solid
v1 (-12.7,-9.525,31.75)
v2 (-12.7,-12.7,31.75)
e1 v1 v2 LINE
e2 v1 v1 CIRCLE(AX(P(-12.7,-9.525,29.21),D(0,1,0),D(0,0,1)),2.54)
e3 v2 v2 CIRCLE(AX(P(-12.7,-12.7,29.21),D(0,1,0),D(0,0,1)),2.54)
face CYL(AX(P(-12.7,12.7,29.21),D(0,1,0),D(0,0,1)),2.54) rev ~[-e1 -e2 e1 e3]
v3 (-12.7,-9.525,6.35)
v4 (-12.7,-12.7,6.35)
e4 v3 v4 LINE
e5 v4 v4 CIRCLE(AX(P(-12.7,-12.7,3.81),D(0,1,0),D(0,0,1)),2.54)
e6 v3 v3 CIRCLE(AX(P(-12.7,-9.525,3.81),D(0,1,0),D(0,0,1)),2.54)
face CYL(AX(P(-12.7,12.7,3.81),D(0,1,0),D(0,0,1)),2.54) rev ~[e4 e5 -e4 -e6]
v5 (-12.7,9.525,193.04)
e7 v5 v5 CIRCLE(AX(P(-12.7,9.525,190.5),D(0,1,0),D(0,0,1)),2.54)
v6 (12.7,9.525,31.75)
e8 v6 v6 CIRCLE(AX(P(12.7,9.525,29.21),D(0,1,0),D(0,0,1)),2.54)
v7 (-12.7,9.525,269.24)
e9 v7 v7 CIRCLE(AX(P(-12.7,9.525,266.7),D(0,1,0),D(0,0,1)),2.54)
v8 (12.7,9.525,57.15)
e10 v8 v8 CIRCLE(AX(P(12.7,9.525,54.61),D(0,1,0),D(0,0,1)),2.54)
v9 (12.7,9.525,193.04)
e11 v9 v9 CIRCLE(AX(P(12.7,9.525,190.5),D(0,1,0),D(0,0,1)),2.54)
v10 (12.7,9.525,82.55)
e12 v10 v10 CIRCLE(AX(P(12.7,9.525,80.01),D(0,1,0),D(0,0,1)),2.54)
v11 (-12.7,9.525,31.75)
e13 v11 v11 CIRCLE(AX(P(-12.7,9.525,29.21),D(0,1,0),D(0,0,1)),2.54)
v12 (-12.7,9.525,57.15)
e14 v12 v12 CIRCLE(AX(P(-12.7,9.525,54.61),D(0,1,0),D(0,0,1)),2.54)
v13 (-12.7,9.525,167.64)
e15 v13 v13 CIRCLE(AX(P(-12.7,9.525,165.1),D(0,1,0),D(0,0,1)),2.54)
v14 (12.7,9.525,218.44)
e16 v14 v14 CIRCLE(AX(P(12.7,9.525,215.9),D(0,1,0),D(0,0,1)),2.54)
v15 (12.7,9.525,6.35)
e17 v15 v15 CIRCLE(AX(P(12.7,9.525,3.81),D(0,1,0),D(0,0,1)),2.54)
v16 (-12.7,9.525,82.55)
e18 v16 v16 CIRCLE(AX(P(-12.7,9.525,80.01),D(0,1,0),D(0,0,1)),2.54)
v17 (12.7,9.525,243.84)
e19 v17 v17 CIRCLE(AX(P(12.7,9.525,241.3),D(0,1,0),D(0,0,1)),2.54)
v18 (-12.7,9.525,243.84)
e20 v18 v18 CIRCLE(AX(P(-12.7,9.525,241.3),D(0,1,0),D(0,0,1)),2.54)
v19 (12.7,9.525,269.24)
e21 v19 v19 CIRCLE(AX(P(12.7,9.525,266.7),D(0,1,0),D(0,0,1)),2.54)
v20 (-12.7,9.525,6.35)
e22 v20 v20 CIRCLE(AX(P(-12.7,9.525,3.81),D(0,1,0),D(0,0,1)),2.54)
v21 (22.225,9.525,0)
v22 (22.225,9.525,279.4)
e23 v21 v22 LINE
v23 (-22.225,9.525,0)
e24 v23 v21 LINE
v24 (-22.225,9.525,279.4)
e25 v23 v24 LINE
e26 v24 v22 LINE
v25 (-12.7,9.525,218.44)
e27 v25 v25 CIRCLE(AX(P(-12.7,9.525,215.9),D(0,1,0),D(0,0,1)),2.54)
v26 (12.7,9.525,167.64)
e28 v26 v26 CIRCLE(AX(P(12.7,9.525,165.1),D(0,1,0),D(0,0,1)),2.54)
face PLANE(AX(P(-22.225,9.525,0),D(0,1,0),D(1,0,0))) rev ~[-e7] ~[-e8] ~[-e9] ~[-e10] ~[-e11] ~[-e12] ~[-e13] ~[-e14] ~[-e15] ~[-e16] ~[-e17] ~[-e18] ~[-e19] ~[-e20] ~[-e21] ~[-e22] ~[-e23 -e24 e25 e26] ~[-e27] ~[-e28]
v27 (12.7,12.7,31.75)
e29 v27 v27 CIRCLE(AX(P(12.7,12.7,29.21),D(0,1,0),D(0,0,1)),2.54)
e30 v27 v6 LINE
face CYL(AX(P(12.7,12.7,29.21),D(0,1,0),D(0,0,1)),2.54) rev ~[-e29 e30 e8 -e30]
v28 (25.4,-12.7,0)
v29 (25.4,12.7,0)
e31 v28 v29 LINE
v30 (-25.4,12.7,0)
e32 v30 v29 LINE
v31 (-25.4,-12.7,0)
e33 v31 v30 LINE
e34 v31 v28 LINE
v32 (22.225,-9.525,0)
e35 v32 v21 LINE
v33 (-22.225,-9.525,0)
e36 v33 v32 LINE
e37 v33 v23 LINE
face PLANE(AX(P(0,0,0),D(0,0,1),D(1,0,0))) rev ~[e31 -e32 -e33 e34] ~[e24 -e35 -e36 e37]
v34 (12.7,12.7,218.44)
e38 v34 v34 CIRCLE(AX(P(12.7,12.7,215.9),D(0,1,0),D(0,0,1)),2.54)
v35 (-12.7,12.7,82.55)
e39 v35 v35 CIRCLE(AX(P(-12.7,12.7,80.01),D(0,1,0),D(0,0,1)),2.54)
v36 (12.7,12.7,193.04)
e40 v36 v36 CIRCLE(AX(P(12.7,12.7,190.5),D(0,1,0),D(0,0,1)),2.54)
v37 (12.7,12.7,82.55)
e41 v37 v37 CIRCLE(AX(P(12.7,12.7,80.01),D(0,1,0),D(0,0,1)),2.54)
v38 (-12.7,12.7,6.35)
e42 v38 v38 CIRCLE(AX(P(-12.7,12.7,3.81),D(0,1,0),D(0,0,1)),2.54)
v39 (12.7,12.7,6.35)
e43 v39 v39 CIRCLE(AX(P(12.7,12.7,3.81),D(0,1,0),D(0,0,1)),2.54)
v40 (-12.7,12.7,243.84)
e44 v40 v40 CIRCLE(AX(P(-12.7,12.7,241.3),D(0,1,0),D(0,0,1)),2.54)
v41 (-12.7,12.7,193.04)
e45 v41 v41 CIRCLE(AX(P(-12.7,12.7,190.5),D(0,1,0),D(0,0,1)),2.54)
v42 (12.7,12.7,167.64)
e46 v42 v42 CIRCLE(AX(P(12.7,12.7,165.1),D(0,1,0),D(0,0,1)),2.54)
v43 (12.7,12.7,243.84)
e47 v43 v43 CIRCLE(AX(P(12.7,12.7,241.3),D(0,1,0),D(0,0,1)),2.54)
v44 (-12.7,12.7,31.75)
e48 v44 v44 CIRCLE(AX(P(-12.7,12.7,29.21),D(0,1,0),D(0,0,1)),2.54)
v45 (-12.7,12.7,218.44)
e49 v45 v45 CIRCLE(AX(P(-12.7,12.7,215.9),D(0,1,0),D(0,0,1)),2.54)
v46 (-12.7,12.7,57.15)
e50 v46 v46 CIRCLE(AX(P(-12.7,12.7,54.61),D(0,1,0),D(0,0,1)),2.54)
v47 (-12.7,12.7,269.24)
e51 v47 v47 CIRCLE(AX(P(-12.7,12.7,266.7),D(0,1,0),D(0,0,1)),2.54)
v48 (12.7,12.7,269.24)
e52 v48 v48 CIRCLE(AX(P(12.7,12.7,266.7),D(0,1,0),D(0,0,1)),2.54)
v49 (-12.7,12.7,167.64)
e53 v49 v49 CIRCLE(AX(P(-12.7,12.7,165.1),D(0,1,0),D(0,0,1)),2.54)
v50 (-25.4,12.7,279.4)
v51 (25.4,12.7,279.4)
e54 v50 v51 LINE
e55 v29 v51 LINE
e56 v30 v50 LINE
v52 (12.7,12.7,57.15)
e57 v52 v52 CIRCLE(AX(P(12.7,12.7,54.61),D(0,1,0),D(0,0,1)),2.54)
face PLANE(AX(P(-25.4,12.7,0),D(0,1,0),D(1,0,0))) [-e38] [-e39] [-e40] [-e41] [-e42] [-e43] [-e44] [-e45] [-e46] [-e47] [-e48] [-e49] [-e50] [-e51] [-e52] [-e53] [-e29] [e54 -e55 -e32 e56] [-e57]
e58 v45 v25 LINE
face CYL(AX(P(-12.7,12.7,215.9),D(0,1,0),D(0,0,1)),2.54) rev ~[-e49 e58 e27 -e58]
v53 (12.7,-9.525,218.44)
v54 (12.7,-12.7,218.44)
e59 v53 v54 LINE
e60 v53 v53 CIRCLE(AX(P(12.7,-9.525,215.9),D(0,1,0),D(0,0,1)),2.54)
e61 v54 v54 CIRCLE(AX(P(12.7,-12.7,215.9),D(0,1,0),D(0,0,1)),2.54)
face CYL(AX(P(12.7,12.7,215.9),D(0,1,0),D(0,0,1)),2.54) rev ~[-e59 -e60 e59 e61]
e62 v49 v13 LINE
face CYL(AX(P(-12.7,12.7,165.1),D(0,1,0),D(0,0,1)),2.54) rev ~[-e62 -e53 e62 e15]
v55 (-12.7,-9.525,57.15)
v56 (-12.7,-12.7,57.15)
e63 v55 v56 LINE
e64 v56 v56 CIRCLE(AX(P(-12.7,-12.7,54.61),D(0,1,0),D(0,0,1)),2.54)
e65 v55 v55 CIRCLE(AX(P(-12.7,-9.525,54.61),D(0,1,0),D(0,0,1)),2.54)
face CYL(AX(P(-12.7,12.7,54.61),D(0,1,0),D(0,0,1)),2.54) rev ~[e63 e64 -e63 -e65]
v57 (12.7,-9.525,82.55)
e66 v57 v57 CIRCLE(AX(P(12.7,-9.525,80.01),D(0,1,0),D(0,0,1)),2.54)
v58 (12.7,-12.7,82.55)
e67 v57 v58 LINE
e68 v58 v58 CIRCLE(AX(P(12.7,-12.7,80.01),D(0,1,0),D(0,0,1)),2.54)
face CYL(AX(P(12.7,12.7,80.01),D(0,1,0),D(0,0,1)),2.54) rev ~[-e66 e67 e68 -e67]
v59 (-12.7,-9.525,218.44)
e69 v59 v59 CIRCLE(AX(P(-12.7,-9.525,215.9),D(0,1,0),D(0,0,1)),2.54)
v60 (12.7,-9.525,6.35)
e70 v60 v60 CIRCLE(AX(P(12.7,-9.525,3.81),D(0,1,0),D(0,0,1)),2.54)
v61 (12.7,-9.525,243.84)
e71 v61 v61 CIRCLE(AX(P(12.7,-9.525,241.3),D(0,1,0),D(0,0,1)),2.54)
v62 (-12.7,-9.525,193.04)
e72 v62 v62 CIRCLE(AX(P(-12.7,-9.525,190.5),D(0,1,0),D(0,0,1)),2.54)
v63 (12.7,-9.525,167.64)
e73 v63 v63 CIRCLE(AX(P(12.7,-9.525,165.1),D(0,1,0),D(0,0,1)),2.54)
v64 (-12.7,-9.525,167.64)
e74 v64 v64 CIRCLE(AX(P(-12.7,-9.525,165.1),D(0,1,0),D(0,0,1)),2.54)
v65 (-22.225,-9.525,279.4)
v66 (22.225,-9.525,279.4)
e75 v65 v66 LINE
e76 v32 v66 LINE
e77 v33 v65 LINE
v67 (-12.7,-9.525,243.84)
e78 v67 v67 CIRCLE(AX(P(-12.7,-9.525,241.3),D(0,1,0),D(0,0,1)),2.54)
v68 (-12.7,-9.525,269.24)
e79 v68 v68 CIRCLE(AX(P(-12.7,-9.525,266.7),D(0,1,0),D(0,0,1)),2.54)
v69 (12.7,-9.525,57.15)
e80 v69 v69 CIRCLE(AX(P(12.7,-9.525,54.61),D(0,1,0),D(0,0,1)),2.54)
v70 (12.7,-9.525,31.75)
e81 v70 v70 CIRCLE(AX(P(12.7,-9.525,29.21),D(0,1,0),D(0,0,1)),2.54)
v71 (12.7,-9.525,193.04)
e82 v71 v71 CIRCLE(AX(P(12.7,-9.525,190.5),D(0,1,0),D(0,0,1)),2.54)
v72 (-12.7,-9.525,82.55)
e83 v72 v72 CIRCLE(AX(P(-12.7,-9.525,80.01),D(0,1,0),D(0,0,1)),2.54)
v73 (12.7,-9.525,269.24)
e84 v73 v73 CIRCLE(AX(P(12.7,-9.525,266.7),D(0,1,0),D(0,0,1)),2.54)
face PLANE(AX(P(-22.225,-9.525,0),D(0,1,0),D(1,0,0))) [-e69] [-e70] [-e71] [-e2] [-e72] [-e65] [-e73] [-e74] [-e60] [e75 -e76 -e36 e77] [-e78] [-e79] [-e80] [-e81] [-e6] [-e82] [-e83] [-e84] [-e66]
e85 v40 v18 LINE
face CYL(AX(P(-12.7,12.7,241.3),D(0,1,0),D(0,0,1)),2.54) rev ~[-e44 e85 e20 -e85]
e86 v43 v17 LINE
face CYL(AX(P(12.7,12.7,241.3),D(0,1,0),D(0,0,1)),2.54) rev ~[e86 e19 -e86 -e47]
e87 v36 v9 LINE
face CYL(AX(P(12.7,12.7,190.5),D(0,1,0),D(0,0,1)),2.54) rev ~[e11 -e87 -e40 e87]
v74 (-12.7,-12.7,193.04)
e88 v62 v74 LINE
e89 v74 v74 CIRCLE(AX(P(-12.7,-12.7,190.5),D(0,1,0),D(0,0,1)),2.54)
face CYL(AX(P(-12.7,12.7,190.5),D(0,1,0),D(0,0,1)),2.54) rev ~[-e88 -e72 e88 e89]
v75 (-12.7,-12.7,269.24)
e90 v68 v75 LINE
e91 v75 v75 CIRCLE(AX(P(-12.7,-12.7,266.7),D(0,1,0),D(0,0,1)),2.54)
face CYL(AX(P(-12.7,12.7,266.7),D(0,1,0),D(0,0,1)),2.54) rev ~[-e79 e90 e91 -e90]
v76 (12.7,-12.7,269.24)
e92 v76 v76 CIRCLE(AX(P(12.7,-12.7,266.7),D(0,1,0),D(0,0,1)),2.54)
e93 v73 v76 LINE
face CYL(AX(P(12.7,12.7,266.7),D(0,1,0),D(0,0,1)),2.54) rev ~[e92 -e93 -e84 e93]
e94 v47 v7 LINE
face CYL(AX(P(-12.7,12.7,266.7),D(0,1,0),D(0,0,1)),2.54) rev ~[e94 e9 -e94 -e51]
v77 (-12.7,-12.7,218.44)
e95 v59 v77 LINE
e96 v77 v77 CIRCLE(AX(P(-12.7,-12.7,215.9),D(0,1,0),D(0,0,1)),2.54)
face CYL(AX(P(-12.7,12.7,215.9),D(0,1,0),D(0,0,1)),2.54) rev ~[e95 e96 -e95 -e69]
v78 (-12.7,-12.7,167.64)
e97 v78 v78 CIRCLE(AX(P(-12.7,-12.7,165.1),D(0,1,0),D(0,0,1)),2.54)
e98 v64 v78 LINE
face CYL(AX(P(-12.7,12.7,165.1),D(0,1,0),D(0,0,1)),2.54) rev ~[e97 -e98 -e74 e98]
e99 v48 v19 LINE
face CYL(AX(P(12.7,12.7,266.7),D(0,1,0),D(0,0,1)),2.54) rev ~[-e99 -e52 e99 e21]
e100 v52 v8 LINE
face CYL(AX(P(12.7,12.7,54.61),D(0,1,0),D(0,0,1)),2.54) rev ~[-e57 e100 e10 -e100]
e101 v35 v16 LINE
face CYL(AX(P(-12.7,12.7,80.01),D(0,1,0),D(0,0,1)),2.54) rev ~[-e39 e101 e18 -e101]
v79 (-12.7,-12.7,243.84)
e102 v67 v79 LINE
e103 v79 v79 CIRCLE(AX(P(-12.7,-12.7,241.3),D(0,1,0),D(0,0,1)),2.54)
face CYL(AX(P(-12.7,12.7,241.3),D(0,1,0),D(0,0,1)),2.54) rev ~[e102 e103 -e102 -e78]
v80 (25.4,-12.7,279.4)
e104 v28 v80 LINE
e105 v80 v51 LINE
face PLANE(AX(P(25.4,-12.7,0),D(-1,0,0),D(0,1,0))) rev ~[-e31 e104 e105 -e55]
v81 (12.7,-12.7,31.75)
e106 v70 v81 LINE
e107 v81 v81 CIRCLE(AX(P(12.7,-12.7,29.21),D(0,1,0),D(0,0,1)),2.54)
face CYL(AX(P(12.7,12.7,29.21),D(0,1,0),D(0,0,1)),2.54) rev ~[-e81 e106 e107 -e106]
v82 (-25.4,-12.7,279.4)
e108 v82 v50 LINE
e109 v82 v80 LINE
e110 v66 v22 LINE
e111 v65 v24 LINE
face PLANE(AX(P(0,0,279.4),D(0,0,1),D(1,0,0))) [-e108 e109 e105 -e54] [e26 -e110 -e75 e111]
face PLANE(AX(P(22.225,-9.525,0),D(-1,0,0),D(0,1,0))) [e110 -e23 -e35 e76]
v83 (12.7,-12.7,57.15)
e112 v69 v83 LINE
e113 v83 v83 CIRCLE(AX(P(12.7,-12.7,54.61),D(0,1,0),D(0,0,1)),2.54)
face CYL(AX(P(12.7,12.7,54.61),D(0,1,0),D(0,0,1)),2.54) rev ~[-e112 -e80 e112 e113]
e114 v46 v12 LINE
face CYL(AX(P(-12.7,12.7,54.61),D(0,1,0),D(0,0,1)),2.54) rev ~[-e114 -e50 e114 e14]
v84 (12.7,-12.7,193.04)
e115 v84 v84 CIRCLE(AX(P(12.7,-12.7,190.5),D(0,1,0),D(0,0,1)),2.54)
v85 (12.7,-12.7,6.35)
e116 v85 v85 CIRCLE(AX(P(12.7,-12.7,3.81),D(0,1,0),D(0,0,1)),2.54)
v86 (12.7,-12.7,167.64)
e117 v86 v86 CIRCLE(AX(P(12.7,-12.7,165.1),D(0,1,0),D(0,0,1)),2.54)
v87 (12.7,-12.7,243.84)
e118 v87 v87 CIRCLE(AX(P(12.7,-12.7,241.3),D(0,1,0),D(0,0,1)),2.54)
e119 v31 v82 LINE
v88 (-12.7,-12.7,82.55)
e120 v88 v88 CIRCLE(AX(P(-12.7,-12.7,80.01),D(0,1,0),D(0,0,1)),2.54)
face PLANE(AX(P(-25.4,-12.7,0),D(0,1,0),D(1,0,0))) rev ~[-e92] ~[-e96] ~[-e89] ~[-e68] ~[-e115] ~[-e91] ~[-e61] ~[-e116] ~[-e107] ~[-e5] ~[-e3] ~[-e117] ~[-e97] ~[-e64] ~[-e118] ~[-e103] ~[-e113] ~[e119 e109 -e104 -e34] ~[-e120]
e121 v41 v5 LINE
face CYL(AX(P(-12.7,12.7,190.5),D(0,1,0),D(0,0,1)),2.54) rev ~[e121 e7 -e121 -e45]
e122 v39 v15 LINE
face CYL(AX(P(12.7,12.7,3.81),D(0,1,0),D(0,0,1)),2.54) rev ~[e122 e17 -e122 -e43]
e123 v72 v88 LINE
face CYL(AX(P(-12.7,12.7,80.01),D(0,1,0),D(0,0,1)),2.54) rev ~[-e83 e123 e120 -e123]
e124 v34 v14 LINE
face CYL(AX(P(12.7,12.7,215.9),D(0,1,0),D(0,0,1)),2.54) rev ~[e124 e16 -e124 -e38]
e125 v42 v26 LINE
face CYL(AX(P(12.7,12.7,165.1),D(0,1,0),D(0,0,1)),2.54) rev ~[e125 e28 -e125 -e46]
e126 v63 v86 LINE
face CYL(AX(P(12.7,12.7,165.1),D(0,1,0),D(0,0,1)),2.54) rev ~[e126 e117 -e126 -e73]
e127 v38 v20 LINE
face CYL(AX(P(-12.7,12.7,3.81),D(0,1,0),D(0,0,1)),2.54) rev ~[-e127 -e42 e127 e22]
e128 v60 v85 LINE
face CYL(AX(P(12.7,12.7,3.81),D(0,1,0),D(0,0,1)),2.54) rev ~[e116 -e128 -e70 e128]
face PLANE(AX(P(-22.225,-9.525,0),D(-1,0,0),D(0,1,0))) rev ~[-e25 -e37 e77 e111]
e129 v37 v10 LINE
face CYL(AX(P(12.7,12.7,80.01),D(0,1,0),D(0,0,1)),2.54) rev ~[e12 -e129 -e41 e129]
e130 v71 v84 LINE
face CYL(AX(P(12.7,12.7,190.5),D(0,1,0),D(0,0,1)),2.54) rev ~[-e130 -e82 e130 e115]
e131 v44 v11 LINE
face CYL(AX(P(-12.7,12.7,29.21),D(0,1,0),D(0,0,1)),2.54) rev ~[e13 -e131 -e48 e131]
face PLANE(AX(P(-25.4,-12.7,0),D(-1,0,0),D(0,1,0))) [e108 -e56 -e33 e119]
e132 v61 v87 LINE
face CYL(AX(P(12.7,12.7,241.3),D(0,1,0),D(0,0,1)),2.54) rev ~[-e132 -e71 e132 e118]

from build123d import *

# Parameters (mm, degrees)
SKETCH1_W           = 50.8
SKETCH1_H           = 25.4
SKETCH1_W_2         = 44.45
SKETCH1_H_2         = 19.05
BOSS_EXTRUDE1_DEPTH = 279.4
CUT_EXTRUDE1_REACH  = 283.7
SKETCH2_R           = 2.54


with BuildPart() as part:
    # Sketch1 → Boss-Extrude1 (new body)
    with BuildSketch(Plane.XY):
        Rectangle(SKETCH1_W, SKETCH1_H)
        Rectangle(SKETCH1_W_2, SKETCH1_H_2, mode=Mode.SUBTRACT)
    extrude(amount=BOSS_EXTRUDE1_DEPTH)

    # Cut-Extrude1: up to this face of the body (flat: up to its plane)
    cut_extrude1_end = Plane(part.part.faces().sort_by_distance((0, -12.7, 139.7))[0])
    # Sketch2 → Cut-Extrude1 (cut, up to the picked face)
    with BuildSketch(Plane(origin=(0, 12.7, 0), x_dir=(1, 0, 0), z_dir=(0, 1, 0)), mode=Mode.PRIVATE) as cut_extrude1_sk1:
        with Locations(Location((-12.7, -3.81, 0), (0, 0, 270))):
            Circle(SKETCH2_R)
    cut_extrude1_tool1 = split(extrude(cut_extrude1_sk1.sketch, amount=-CUT_EXTRUDE1_REACH, mode=Mode.PRIVATE), bisect_by=cut_extrude1_end, keep=Keep.BOTH, mode=Mode.PRIVATE)
    # Sketch2 → Cut-Extrude1 (cut, up to the picked face)
    with BuildSketch(Plane(origin=(0, 12.7, 0), x_dir=(1, 0, 0), z_dir=(0, 1, 0)), mode=Mode.PRIVATE) as cut_extrude1_sk2:
        with Locations(Location((-12.7, -266.7, 0), (0, 0, 270))):
            Circle(SKETCH2_R)
    cut_extrude1_tool2 = split(extrude(cut_extrude1_sk2.sketch, amount=-CUT_EXTRUDE1_REACH, mode=Mode.PRIVATE), bisect_by=cut_extrude1_end, keep=Keep.BOTH, mode=Mode.PRIVATE)
    # Sketch2 → Cut-Extrude1 (cut, up to the picked face)
    with BuildSketch(Plane(origin=(0, 12.7, 0), x_dir=(1, 0, 0), z_dir=(0, 1, 0)), mode=Mode.PRIVATE) as cut_extrude1_sk3:
        with Locations(Location((12.7, -266.7, 0), (0, 0, 270))):
            Circle(SKETCH2_R)
    cut_extrude1_tool3 = split(extrude(cut_extrude1_sk3.sketch, amount=-CUT_EXTRUDE1_REACH, mode=Mode.PRIVATE), bisect_by=cut_extrude1_end, keep=Keep.BOTH, mode=Mode.PRIVATE)
    # Sketch2 → Cut-Extrude1 (cut, up to the picked face)
    with BuildSketch(Plane(origin=(0, 12.7, 0), x_dir=(1, 0, 0), z_dir=(0, 1, 0)), mode=Mode.PRIVATE) as cut_extrude1_sk4:
        with Locations(Location((12.7, -241.3, 0), (0, 0, 270))):
            Circle(SKETCH2_R)
    cut_extrude1_tool4 = split(extrude(cut_extrude1_sk4.sketch, amount=-CUT_EXTRUDE1_REACH, mode=Mode.PRIVATE), bisect_by=cut_extrude1_end, keep=Keep.BOTH, mode=Mode.PRIVATE)
    # Sketch2 → Cut-Extrude1 (cut, up to the picked face)
    with BuildSketch(Plane(origin=(0, 12.7, 0), x_dir=(1, 0, 0), z_dir=(0, 1, 0)), mode=Mode.PRIVATE) as cut_extrude1_sk5:
        with Locations(Location((12.7, -215.9, 0), (0, 0, 270))):
            Circle(SKETCH2_R)
    cut_extrude1_tool5 = split(extrude(cut_extrude1_sk5.sketch, amount=-CUT_EXTRUDE1_REACH, mode=Mode.PRIVATE), bisect_by=cut_extrude1_end, keep=Keep.BOTH, mode=Mode.PRIVATE)
    # Sketch2 → Cut-Extrude1 (cut, up to the picked face)
    with BuildSketch(Plane(origin=(0, 12.7, 0), x_dir=(1, 0, 0), z_dir=(0, 1, 0)), mode=Mode.PRIVATE) as cut_extrude1_sk6:
        with Locations(Location((12.7, -190.5, 0), (0, 0, 270))):
            Circle(SKETCH2_R)
    cut_extrude1_tool6 = split(extrude(cut_extrude1_sk6.sketch, amount=-CUT_EXTRUDE1_REACH, mode=Mode.PRIVATE), bisect_by=cut_extrude1_end, keep=Keep.BOTH, mode=Mode.PRIVATE)
    # Sketch2 → Cut-Extrude1 (cut, up to the picked face)
    with BuildSketch(Plane(origin=(0, 12.7, 0), x_dir=(1, 0, 0), z_dir=(0, 1, 0)), mode=Mode.PRIVATE) as cut_extrude1_sk7:
        with Locations(Location((12.7, -165.1, 0), (0, 0, 270))):
            Circle(SKETCH2_R)
    cut_extrude1_tool7 = split(extrude(cut_extrude1_sk7.sketch, amount=-CUT_EXTRUDE1_REACH, mode=Mode.PRIVATE), bisect_by=cut_extrude1_end, keep=Keep.BOTH, mode=Mode.PRIVATE)
    # Sketch2 → Cut-Extrude1 (cut, up to the picked face)
    with BuildSketch(Plane(origin=(0, 12.7, 0), x_dir=(1, 0, 0), z_dir=(0, 1, 0)), mode=Mode.PRIVATE) as cut_extrude1_sk8:
        with Locations(Location((-12.7, -241.3, 0), (0, 0, 270))):
            Circle(SKETCH2_R)
    cut_extrude1_tool8 = split(extrude(cut_extrude1_sk8.sketch, amount=-CUT_EXTRUDE1_REACH, mode=Mode.PRIVATE), bisect_by=cut_extrude1_end, keep=Keep.BOTH, mode=Mode.PRIVATE)
    # Sketch2 → Cut-Extrude1 (cut, up to the picked face)
    with BuildSketch(Plane(origin=(0, 12.7, 0), x_dir=(1, 0, 0), z_dir=(0, 1, 0)), mode=Mode.PRIVATE) as cut_extrude1_sk9:
        with Locations(Location((-12.7, -215.9, 0), (0, 0, 270))):
            Circle(SKETCH2_R)
    cut_extrude1_tool9 = split(extrude(cut_extrude1_sk9.sketch, amount=-CUT_EXTRUDE1_REACH, mode=Mode.PRIVATE), bisect_by=cut_extrude1_end, keep=Keep.BOTH, mode=Mode.PRIVATE)
    # Sketch2 → Cut-Extrude1 (cut, up to the picked face)
    with BuildSketch(Plane(origin=(0, 12.7, 0), x_dir=(1, 0, 0), z_dir=(0, 1, 0)), mode=Mode.PRIVATE) as cut_extrude1_sk10:
        with Locations(Location((-12.7, -190.5, 0), (0, 0, 270))):
            Circle(SKETCH2_R)
    cut_extrude1_tool10 = split(extrude(cut_extrude1_sk10.sketch, amount=-CUT_EXTRUDE1_REACH, mode=Mode.PRIVATE), bisect_by=cut_extrude1_end, keep=Keep.BOTH, mode=Mode.PRIVATE)
    # Sketch2 → Cut-Extrude1 (cut, up to the picked face)
    with BuildSketch(Plane(origin=(0, 12.7, 0), x_dir=(1, 0, 0), z_dir=(0, 1, 0)), mode=Mode.PRIVATE) as cut_extrude1_sk11:
        with Locations(Location((-12.7, -165.1, 0), (0, 0, 270))):
            Circle(SKETCH2_R)
    cut_extrude1_tool11 = split(extrude(cut_extrude1_sk11.sketch, amount=-CUT_EXTRUDE1_REACH, mode=Mode.PRIVATE), bisect_by=cut_extrude1_end, keep=Keep.BOTH, mode=Mode.PRIVATE)
    # Sketch2 → Cut-Extrude1 (cut, up to the picked face)
    with BuildSketch(Plane(origin=(0, 12.7, 0), x_dir=(1, 0, 0), z_dir=(0, 1, 0)), mode=Mode.PRIVATE) as cut_extrude1_sk12:
        with Locations(Location((12.7, -3.81, 0), (0, 0, 270))):
            Circle(SKETCH2_R)
    cut_extrude1_tool12 = split(extrude(cut_extrude1_sk12.sketch, amount=-CUT_EXTRUDE1_REACH, mode=Mode.PRIVATE), bisect_by=cut_extrude1_end, keep=Keep.BOTH, mode=Mode.PRIVATE)
    # Sketch2 → Cut-Extrude1 (cut, up to the picked face)
    with BuildSketch(Plane(origin=(0, 12.7, 0), x_dir=(1, 0, 0), z_dir=(0, 1, 0)), mode=Mode.PRIVATE) as cut_extrude1_sk13:
        with Locations(Location((12.7, -29.21, 0), (0, 0, 270))):
            Circle(SKETCH2_R)
    cut_extrude1_tool13 = split(extrude(cut_extrude1_sk13.sketch, amount=-CUT_EXTRUDE1_REACH, mode=Mode.PRIVATE), bisect_by=cut_extrude1_end, keep=Keep.BOTH, mode=Mode.PRIVATE)
    # Sketch2 → Cut-Extrude1 (cut, up to the picked face)
    with BuildSketch(Plane(origin=(0, 12.7, 0), x_dir=(1, 0, 0), z_dir=(0, 1, 0)), mode=Mode.PRIVATE) as cut_extrude1_sk14:
        with Locations(Location((12.7, -54.61, 0), (0, 0, 270))):
            Circle(SKETCH2_R)
    cut_extrude1_tool14 = split(extrude(cut_extrude1_sk14.sketch, amount=-CUT_EXTRUDE1_REACH, mode=Mode.PRIVATE), bisect_by=cut_extrude1_end, keep=Keep.BOTH, mode=Mode.PRIVATE)
    # Sketch2 → Cut-Extrude1 (cut, up to the picked face)
    with BuildSketch(Plane(origin=(0, 12.7, 0), x_dir=(1, 0, 0), z_dir=(0, 1, 0)), mode=Mode.PRIVATE) as cut_extrude1_sk15:
        with Locations(Location((-12.7, -29.21, 0), (0, 0, 270))):
            Circle(SKETCH2_R)
    cut_extrude1_tool15 = split(extrude(cut_extrude1_sk15.sketch, amount=-CUT_EXTRUDE1_REACH, mode=Mode.PRIVATE), bisect_by=cut_extrude1_end, keep=Keep.BOTH, mode=Mode.PRIVATE)
    # Sketch2 → Cut-Extrude1 (cut, up to the picked face)
    with BuildSketch(Plane(origin=(0, 12.7, 0), x_dir=(1, 0, 0), z_dir=(0, 1, 0)), mode=Mode.PRIVATE) as cut_extrude1_sk16:
        with Locations(Location((-12.7, -54.61, 0), (0, 0, 270))):
            Circle(SKETCH2_R)
    cut_extrude1_tool16 = split(extrude(cut_extrude1_sk16.sketch, amount=-CUT_EXTRUDE1_REACH, mode=Mode.PRIVATE), bisect_by=cut_extrude1_end, keep=Keep.BOTH, mode=Mode.PRIVATE)
    # Sketch2 → Cut-Extrude1 (cut, up to the picked face)
    with BuildSketch(Plane(origin=(0, 12.7, 0), x_dir=(1, 0, 0), z_dir=(0, 1, 0)), mode=Mode.PRIVATE) as cut_extrude1_sk17:
        with Locations(Location((-12.7, -80.01, 0), (0, 0, 270))):
            Circle(SKETCH2_R)
    cut_extrude1_tool17 = split(extrude(cut_extrude1_sk17.sketch, amount=-CUT_EXTRUDE1_REACH, mode=Mode.PRIVATE), bisect_by=cut_extrude1_end, keep=Keep.BOTH, mode=Mode.PRIVATE)
    # Sketch2 → Cut-Extrude1 (cut, up to the picked face)
    with BuildSketch(Plane(origin=(0, 12.7, 0), x_dir=(1, 0, 0), z_dir=(0, 1, 0)), mode=Mode.PRIVATE) as cut_extrude1_sk18:
        with Locations(Location((12.7, -80.01, 0), (0, 0, 270))):
            Circle(SKETCH2_R)
    cut_extrude1_tool18 = split(extrude(cut_extrude1_sk18.sketch, amount=-CUT_EXTRUDE1_REACH, mode=Mode.PRIVATE), bisect_by=cut_extrude1_end, keep=Keep.BOTH, mode=Mode.PRIVATE)
    add(cut_extrude1_tool1.solids().sort_by(Axis((-12.7, 12.7, 3.81), (0, -1, 0)))[0], mode=Mode.SUBTRACT)
    add(cut_extrude1_tool2.solids().sort_by(Axis((-12.7, 12.7, 266.7), (0, -1, 0)))[0], mode=Mode.SUBTRACT)
    add(cut_extrude1_tool3.solids().sort_by(Axis((12.7, 12.7, 266.7), (0, -1, 0)))[0], mode=Mode.SUBTRACT)
    add(cut_extrude1_tool4.solids().sort_by(Axis((12.7, 12.7, 241.3), (0, -1, 0)))[0], mode=Mode.SUBTRACT)
    add(cut_extrude1_tool5.solids().sort_by(Axis((12.7, 12.7, 215.9), (0, -1, 0)))[0], mode=Mode.SUBTRACT)
    add(cut_extrude1_tool6.solids().sort_by(Axis((12.7, 12.7, 190.5), (0, -1, 0)))[0], mode=Mode.SUBTRACT)
    add(cut_extrude1_tool7.solids().sort_by(Axis((12.7, 12.7, 165.1), (0, -1, 0)))[0], mode=Mode.SUBTRACT)
    add(cut_extrude1_tool8.solids().sort_by(Axis((-12.7, 12.7, 241.3), (0, -1, 0)))[0], mode=Mode.SUBTRACT)
    add(cut_extrude1_tool9.solids().sort_by(Axis((-12.7, 12.7, 215.9), (0, -1, 0)))[0], mode=Mode.SUBTRACT)
    add(cut_extrude1_tool10.solids().sort_by(Axis((-12.7, 12.7, 190.5), (0, -1, 0)))[0], mode=Mode.SUBTRACT)
    add(cut_extrude1_tool11.solids().sort_by(Axis((-12.7, 12.7, 165.1), (0, -1, 0)))[0], mode=Mode.SUBTRACT)
    add(cut_extrude1_tool12.solids().sort_by(Axis((12.7, 12.7, 3.81), (0, -1, 0)))[0], mode=Mode.SUBTRACT)
    add(cut_extrude1_tool13.solids().sort_by(Axis((12.7, 12.7, 29.21), (0, -1, 0)))[0], mode=Mode.SUBTRACT)
    add(cut_extrude1_tool14.solids().sort_by(Axis((12.7, 12.7, 54.61), (0, -1, 0)))[0], mode=Mode.SUBTRACT)
    add(cut_extrude1_tool15.solids().sort_by(Axis((-12.7, 12.7, 29.21), (0, -1, 0)))[0], mode=Mode.SUBTRACT)
    add(cut_extrude1_tool16.solids().sort_by(Axis((-12.7, 12.7, 54.61), (0, -1, 0)))[0], mode=Mode.SUBTRACT)
    add(cut_extrude1_tool17.solids().sort_by(Axis((-12.7, 12.7, 80.01), (0, -1, 0)))[0], mode=Mode.SUBTRACT)
    add(cut_extrude1_tool18.solids().sort_by(Axis((12.7, 12.7, 80.01), (0, -1, 0)))[0], mode=Mode.SUBTRACT)


solid = part.part
